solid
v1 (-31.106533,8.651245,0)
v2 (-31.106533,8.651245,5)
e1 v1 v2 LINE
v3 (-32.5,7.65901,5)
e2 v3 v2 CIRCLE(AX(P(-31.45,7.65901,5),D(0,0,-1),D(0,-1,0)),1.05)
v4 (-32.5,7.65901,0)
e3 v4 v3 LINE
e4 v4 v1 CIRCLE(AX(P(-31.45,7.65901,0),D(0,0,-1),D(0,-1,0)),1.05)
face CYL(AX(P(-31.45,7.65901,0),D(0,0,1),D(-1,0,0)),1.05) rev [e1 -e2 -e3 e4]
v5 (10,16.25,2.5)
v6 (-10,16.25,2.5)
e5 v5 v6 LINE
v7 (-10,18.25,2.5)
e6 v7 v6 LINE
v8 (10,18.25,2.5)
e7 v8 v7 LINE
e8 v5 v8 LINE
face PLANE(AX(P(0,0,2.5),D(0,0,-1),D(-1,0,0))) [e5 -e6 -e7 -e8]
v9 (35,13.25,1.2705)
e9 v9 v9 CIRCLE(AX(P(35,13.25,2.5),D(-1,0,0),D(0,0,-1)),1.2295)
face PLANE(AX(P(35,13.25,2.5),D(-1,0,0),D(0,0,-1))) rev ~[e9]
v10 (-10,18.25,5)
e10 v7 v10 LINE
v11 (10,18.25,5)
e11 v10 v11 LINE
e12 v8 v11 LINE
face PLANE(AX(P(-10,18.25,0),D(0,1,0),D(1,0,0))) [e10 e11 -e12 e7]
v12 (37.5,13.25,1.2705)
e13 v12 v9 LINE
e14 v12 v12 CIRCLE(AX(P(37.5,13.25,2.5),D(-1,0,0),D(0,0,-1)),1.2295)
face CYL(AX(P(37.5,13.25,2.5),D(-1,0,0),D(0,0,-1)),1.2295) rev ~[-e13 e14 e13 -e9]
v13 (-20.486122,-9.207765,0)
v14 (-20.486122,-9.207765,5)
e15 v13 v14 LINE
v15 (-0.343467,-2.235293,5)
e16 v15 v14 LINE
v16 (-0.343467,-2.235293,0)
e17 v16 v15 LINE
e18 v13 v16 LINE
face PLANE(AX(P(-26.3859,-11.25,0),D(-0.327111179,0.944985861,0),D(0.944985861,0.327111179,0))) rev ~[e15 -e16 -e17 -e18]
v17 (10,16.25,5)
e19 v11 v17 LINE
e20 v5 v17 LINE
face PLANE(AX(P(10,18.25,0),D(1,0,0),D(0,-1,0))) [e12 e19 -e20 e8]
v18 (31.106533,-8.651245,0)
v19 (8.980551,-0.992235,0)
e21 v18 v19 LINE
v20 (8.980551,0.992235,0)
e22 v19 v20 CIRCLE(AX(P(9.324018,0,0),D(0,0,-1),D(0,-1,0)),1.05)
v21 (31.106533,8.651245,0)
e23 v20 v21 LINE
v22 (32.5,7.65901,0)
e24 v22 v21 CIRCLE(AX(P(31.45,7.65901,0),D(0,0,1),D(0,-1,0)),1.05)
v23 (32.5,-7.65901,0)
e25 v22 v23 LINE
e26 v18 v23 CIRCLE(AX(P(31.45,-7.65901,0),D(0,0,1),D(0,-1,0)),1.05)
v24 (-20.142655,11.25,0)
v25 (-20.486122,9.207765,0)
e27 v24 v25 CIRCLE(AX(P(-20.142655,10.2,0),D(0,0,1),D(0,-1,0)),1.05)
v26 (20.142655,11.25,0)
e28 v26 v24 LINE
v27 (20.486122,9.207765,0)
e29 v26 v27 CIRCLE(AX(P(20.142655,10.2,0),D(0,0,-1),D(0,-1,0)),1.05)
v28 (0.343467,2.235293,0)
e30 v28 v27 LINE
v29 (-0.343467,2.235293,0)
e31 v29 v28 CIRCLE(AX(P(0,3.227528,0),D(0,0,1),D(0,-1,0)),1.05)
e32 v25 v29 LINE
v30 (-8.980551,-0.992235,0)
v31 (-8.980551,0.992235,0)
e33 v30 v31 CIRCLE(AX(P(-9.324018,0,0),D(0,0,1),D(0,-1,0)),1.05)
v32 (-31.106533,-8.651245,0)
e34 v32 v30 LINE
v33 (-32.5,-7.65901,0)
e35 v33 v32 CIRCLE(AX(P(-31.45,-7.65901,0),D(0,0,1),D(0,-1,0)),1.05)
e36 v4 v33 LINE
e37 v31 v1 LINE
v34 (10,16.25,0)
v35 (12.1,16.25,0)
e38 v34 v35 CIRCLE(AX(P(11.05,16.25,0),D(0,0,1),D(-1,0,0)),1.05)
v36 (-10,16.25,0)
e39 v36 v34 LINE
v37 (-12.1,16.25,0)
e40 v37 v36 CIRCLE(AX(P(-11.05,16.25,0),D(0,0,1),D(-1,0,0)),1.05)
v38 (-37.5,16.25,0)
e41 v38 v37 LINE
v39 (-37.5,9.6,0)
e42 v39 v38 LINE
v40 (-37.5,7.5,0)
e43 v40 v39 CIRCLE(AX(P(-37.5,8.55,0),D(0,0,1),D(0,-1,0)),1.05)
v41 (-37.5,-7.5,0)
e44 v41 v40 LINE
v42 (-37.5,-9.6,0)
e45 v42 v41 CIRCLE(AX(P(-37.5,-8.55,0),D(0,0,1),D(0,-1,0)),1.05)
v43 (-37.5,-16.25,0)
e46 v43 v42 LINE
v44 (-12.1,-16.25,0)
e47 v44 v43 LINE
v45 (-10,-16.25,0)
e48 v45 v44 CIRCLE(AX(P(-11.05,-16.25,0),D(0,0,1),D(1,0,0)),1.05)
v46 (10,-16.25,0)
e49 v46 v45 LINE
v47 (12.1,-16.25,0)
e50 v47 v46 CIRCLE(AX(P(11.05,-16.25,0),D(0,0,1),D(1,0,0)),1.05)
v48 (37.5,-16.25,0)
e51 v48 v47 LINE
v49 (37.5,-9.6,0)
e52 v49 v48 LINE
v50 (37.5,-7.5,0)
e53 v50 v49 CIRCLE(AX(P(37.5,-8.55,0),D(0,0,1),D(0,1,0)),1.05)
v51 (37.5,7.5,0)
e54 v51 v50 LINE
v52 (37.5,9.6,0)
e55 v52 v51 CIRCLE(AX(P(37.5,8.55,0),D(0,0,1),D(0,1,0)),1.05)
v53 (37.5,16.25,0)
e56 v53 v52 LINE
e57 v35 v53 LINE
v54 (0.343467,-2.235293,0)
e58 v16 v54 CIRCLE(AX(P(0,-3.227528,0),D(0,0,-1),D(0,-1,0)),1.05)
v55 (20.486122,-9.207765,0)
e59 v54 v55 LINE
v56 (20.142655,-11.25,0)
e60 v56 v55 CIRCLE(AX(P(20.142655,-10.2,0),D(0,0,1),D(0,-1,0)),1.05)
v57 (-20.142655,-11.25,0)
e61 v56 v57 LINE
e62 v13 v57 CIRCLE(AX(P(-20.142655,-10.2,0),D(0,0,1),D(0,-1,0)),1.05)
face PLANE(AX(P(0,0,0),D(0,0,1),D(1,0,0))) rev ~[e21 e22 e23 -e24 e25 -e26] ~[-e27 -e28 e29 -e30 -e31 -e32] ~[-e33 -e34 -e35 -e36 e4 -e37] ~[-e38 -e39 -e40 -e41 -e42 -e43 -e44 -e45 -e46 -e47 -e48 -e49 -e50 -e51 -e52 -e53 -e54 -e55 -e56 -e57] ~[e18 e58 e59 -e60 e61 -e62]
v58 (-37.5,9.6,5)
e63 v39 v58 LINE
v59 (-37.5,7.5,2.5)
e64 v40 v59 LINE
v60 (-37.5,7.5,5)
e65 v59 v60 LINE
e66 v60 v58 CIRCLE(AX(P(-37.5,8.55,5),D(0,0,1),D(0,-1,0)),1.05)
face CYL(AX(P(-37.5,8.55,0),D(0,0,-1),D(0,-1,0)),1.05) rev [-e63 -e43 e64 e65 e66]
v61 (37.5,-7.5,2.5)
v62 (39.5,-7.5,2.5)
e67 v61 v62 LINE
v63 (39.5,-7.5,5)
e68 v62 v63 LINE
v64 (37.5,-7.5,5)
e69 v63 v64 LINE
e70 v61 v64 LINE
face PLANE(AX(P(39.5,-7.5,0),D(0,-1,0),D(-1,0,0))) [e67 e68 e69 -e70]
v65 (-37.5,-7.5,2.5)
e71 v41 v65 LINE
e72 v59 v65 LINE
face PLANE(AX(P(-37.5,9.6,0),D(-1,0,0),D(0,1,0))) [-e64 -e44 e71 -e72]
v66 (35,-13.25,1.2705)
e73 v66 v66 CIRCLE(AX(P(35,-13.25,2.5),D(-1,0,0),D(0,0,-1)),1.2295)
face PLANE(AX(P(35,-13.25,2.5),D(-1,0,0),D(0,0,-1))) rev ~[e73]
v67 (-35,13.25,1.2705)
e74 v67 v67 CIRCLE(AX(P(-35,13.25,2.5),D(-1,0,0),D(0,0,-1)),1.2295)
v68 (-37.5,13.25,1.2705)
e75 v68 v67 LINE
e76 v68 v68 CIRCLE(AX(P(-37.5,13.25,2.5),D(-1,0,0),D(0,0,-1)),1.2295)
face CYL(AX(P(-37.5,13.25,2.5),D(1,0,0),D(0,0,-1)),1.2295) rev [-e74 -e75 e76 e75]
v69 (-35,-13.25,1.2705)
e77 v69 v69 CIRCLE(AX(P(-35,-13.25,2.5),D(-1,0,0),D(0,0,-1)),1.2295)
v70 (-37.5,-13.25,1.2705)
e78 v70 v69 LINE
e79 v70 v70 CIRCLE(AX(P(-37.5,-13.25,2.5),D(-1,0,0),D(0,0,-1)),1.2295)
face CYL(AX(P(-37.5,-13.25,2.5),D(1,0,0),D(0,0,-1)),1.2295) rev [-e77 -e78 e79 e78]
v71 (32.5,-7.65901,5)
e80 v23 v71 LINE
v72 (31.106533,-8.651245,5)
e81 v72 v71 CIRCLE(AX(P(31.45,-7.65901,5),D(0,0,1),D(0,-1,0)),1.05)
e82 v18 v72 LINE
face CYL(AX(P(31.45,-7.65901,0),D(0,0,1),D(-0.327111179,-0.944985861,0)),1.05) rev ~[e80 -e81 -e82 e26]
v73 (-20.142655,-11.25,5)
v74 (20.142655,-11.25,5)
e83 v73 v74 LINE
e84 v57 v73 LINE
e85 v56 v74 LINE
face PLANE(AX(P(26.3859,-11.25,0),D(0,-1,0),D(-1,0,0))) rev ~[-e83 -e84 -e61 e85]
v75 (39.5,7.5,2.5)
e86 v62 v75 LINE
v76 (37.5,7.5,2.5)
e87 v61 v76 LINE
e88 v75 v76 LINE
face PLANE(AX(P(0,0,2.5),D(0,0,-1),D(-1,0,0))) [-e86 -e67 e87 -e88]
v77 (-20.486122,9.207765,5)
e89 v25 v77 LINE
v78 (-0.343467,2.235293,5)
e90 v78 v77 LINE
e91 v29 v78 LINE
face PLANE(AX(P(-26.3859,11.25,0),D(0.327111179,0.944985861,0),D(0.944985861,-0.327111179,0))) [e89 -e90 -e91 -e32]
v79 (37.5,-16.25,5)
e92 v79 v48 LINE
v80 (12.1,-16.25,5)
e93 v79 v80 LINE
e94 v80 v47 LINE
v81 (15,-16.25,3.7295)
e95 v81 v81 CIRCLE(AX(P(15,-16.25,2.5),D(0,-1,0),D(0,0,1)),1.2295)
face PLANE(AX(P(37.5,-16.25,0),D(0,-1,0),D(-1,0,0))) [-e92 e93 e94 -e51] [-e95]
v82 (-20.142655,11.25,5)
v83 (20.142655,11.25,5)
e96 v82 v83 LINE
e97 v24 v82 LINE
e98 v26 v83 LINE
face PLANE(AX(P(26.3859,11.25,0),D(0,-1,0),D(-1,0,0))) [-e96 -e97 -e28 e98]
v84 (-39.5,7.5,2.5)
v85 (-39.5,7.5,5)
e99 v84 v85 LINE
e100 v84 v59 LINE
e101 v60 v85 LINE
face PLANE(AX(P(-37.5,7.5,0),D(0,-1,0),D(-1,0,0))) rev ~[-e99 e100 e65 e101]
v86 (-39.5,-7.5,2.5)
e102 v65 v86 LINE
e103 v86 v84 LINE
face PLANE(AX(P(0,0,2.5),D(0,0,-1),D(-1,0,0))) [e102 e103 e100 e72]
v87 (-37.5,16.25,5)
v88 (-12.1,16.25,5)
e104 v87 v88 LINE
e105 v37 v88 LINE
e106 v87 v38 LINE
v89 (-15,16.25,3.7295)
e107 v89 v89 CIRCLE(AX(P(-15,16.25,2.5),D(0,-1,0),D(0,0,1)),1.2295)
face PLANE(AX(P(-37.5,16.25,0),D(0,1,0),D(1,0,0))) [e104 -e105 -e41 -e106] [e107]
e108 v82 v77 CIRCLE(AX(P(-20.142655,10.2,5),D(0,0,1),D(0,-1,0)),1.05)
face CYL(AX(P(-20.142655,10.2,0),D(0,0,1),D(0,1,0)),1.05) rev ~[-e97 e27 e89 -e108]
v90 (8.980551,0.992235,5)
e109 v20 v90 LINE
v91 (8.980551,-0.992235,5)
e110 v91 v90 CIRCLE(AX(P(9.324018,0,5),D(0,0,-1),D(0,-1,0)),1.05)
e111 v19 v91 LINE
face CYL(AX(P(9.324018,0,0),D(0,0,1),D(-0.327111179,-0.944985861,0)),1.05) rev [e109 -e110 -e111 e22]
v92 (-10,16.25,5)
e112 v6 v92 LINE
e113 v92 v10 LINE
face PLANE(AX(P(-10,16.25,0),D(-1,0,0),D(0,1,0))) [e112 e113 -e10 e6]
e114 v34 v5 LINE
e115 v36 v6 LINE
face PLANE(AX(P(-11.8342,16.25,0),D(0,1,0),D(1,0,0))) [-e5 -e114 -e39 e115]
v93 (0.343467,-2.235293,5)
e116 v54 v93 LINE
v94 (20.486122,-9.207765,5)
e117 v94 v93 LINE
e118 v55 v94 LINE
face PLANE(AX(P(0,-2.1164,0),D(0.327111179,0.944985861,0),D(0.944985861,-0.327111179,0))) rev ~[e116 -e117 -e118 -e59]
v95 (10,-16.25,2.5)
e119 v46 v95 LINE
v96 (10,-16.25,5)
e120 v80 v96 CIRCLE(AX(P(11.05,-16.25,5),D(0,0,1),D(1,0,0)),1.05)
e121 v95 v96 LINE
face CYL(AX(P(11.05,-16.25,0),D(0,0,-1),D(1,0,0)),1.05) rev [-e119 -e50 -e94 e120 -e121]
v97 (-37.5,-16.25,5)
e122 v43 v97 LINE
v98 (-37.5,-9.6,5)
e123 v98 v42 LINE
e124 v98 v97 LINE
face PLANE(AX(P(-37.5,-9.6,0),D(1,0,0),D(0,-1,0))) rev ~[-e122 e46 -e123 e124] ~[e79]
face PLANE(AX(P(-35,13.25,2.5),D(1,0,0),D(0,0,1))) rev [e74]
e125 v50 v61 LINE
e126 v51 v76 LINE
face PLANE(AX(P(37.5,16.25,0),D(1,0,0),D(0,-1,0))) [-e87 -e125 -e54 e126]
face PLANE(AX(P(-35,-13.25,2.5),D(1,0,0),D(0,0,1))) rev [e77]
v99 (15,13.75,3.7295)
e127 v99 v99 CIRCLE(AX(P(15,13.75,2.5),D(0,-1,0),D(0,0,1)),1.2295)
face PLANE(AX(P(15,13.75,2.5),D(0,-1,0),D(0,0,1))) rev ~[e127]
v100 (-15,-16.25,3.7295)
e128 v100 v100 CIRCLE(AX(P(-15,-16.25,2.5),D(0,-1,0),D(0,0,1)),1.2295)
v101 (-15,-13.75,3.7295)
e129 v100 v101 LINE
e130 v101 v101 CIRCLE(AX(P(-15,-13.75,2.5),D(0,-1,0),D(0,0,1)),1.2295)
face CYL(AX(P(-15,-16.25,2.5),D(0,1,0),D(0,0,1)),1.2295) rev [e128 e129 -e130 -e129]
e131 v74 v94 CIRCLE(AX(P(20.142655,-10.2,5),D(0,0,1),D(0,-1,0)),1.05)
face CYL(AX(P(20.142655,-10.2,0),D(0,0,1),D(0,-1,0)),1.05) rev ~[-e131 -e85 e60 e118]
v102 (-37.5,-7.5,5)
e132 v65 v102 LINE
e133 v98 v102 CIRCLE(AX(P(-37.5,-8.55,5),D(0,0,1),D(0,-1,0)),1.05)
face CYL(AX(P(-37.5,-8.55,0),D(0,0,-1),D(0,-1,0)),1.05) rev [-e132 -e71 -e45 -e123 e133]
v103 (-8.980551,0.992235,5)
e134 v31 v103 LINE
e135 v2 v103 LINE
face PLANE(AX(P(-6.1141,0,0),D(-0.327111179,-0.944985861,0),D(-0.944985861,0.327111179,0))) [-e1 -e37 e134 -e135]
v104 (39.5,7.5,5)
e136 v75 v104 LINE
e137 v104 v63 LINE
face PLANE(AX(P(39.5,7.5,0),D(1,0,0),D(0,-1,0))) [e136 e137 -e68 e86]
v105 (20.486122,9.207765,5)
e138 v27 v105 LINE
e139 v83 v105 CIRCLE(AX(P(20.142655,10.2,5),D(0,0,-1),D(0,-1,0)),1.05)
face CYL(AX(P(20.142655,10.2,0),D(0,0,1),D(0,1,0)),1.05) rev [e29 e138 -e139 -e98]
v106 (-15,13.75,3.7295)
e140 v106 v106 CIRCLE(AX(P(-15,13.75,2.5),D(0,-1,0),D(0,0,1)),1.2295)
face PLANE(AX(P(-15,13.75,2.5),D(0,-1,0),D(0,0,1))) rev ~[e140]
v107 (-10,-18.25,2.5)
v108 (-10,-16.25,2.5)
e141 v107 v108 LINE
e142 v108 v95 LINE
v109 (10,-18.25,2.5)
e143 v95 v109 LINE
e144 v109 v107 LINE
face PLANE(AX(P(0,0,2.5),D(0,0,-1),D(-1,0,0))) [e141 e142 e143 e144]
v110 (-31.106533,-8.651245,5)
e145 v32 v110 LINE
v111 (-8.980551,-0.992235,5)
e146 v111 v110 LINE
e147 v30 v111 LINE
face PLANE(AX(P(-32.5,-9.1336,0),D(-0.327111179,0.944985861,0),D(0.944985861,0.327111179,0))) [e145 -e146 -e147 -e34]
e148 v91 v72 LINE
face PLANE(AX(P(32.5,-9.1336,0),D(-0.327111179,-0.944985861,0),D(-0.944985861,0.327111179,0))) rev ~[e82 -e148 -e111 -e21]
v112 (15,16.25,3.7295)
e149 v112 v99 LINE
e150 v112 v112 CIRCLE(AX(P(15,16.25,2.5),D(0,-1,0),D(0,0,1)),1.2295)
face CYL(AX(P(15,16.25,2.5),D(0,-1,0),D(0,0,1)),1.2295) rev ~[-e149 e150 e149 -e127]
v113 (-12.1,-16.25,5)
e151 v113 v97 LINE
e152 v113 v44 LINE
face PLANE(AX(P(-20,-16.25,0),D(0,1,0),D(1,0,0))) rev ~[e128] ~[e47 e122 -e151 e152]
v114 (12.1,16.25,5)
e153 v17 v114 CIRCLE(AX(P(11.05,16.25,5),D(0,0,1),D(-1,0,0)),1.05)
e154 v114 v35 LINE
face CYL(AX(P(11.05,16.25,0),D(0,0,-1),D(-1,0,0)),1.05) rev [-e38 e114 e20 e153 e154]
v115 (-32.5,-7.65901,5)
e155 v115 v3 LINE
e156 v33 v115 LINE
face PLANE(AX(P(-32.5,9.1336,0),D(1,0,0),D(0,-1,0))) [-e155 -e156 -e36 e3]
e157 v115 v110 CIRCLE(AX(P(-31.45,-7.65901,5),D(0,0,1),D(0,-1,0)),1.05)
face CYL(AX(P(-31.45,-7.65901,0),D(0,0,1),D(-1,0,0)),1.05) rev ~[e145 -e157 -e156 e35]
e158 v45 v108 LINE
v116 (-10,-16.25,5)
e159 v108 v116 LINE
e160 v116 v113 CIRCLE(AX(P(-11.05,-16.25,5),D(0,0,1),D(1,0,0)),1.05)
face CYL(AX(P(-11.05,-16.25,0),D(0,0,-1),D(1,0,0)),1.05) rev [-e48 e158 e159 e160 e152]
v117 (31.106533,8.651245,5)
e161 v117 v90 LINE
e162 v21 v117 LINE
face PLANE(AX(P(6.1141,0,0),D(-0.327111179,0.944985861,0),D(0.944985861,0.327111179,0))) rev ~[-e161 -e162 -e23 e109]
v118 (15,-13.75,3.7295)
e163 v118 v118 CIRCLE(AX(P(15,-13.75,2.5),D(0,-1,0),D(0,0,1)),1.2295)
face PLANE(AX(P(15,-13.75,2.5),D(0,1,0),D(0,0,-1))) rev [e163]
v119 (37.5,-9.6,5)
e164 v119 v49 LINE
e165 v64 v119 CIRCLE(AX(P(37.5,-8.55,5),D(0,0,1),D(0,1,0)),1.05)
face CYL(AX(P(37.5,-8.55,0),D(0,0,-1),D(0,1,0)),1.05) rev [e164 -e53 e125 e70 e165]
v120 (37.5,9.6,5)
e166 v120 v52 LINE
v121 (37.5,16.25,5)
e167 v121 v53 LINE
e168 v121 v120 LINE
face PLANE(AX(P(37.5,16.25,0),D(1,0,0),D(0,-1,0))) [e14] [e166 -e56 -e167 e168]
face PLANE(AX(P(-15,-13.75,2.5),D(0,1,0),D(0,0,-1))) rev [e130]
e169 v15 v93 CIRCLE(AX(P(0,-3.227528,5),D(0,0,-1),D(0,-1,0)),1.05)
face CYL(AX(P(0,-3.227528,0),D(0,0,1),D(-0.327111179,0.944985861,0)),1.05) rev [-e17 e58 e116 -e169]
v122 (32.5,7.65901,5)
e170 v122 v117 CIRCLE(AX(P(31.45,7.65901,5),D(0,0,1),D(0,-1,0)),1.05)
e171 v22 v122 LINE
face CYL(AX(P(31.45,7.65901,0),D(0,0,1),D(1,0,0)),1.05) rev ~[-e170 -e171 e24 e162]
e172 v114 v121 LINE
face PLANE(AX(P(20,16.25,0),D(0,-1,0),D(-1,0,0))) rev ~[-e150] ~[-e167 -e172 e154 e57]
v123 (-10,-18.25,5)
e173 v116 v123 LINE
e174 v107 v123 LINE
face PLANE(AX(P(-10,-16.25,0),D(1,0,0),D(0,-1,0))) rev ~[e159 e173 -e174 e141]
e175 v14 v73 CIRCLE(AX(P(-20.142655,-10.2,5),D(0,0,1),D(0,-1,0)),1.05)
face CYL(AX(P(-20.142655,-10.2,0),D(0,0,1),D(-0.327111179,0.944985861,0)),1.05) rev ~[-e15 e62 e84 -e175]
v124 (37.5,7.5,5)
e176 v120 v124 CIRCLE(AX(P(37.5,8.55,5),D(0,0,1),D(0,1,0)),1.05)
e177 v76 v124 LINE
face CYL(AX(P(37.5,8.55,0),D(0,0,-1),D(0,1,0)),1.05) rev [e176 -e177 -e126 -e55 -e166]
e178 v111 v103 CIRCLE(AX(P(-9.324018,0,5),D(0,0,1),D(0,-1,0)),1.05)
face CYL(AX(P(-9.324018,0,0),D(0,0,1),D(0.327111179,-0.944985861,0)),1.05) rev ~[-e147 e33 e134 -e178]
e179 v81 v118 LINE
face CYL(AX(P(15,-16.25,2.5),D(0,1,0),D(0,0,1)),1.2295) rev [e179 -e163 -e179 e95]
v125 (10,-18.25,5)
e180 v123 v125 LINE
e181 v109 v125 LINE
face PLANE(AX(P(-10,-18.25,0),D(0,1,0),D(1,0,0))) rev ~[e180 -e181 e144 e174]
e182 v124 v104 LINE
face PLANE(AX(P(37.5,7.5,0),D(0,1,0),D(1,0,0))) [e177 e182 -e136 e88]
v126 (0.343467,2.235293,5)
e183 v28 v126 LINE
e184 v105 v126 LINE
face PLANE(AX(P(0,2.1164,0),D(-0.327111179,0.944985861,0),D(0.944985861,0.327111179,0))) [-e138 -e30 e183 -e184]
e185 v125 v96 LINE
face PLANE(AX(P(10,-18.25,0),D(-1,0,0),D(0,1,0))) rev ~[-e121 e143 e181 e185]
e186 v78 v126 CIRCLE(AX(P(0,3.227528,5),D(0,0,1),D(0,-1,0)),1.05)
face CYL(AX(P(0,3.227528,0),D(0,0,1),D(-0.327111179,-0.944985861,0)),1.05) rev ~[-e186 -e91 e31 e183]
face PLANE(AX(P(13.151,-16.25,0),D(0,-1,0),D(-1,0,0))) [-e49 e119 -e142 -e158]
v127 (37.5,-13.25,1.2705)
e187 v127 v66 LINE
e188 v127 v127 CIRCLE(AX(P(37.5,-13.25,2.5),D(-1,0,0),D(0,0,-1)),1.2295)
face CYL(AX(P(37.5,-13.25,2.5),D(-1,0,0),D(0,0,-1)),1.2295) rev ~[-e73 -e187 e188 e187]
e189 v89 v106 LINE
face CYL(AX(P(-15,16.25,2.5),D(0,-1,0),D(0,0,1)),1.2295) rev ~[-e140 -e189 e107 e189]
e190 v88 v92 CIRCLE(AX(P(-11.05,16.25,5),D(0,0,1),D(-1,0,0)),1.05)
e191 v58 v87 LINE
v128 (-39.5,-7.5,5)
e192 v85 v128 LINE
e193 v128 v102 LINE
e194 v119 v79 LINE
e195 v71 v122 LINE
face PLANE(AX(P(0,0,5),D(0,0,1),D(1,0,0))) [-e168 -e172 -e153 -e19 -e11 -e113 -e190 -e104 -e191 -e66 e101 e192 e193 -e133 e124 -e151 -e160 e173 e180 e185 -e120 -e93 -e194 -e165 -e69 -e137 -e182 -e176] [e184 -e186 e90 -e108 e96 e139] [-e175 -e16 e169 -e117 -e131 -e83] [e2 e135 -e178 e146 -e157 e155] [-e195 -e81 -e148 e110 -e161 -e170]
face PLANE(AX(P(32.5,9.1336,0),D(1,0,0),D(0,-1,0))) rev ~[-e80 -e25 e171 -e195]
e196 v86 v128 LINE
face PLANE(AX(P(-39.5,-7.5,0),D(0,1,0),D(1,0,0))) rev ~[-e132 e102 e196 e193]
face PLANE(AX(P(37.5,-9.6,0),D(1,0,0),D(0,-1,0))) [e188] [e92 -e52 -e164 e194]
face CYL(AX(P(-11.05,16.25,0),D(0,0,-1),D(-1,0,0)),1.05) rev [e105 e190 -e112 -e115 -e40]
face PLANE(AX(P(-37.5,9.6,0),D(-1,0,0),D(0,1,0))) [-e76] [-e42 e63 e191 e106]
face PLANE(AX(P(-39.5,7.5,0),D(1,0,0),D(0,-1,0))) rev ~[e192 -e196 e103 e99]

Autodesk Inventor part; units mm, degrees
ref_plane "YZ Plane" through (0, 0, 0) normal (1, 0, 0) x (0, 1, 0)
ref_plane "XZ Plane" through (0, 0, 0) normal (0, 1, 0) x (-1, 0, 0)
ref_plane "XY Plane" through (0, 0, 0) normal (0, 0, 1) x (1, 0, 0)
sketch "スケッチ1" plane through (0, 0, 0) normal (0, 0, 1) x (1, 0, 0)
  line L0 (-37.5, 9.6) -> (-37.5, 16.25)
  line L1 (-37.5, 16.25) -> (-20, 16.25)
  line L2 (20, 16.25) -> (37.5, 16.25)
  line L3 (37.5, 16.25) -> (37.5, 9.6)
  line L4 (0, 0) -> (0, 16.25) construction
  line L5 (0, 0) -> (39.5, 0) construction
  line L6 (37.5, 7.5) -> (39.5, 7.5)
  line L7 (39.5, 7.5) -> (39.5, -7.5)
  line L8 (39.5, -7.5) -> (37.5, -7.5)
  line L9 (-20, -16.25) -> (20, -16.25) construction
  line L10 (20, -16.25) -> (20, 16.25) construction
  line L11 (20, 16.25) -> (-20, 16.25) construction
  line L12 (-20, 16.25) -> (-20, -16.25) construction
  line L13 (-20, -16.25) -> (20, 16.25) construction
  line L14 (20, -16.25) -> (-20, 16.25) construction
  line L15 (-37.5, -16.25) -> (37.5, -16.25) construction
  line L16 (37.5, -16.25) -> (37.5, 16.25) construction
  line L17 (37.5, 16.25) -> (-37.5, 16.25) construction
  line L18 (-37.5, 16.25) -> (-37.5, -16.25) construction
  line L19 (-37.5, -16.25) -> (37.5, 16.25) construction
  line L20 (37.5, -16.25) -> (-37.5, 16.25) construction
  arc A0 (37.5, 9.6) -> (37.5, 7.5) centre (37.5, 8.55) ccw
  arc A1 (37.5, -7.5) -> (37.5, -9.6) centre (37.5, -8.55) ccw
  line L21 (37.5, -9.6) -> (37.5, -16.25)
  line L22 (37.5, -16.25) -> (20, -16.25)
  line L23 (20, -16.25) -> (12.1, -16.25)
  line L24 (-20, 16.25) -> (-12.1, 16.25)
  line L25 (-10, 16.25) -> (-10, 18.25)
  line L26 (-10, 18.25) -> (10, 18.25)
  line L27 (10, 18.25) -> (10, 16.25)
  line L28 (20, 16.25) -> (12.1, 16.25)
  arc A2 (-12.1, 16.25) -> (-10, 16.25) centre (-11.05, 16.25) ccw
  arc A3 (10, 16.25) -> (12.1, 16.25) centre (11.05, 16.25) ccw
  line L29 (-37.5, 7.5) -> (-39.5, 7.5)
  line L30 (-39.5, 7.5) -> (-39.5, -7.5)
  line L31 (-39.5, -7.5) -> (-37.5, -7.5)
  arc A4 (-37.5, 7.5) -> (-37.5, 9.6) centre (-37.5, 8.55) ccw
  arc A5 (-37.5, -9.6) -> (-37.5, -7.5) centre (-37.5, -8.55) ccw
  line L32 (-37.5, -9.6) -> (-37.5, -16.25)
  line L33 (-37.5, -16.25) -> (-20, -16.25)
  line L34 (-20, -16.25) -> (-12.1, -16.25)
  line L35 (-10, -16.25) -> (-10, -18.25)
  line L36 (-10, -18.25) -> (10, -18.25)
  line L37 (10, -18.25) -> (10, -16.25)
  arc A6 (-10, -16.25) -> (-12.1, -16.25) centre (-11.05, -16.25) ccw
  arc A7 (12.1, -16.25) -> (10, -16.25) centre (11.05, -16.25) ccw
  line L38 (-16.55, 19.1799) -> (-13.45, 19.1799) construction
  line L39 (-13.45, 19.1799) -> (-13.45, 12.4242) construction
  line L40 (-13.45, 12.4242) -> (-16.55, 12.4242) construction
  line L41 (-16.55, 12.4242) -> (-16.55, 19.1799) construction
  line L42 (-15, 19.1799) -> (-15, 12.4242) construction
  point P0 (0, 18.25)
  point P1 (0, 0)
  dimension "d0" = 1.05
  dimension "d1" = 32.5
  dimension "d2" = 75
  dimension "d3" = 40
  dimension "d23" = 2
  dimension "d30" = 2
  dimension "d34" = 8.75
  dimension "d53" = 20
  dimension "d54" = 3.1
  dimension "d55" = 5
  dimension "d85" = 32.5
extrude "押し出し1" add sketch "スケッチ1" along normal blind 5
sketch "スケッチ2" plane through (0, 0, 0) normal (0, 0, -1) x (-1, 0, 0)
  line L0 (37.5, 9.6) -> (37.5, 16.25) projected
  line L1 (-37.5, 16.25) -> (-37.5, 9.6) projected
  line L2 (-45.6427, 17.3125) -> (-37.5, 17.3125)
  line L3 (-37.5, 17.3125) -> (-37.5, -16.751)
  line L4 (-37.5, -16.751) -> (-45.6427, -16.751)
  line L5 (-45.6427, -16.751) -> (-45.6427, 17.3125)
  line L6 (37.5, 21.1805) -> (43.358, 21.1805)
  line L7 (43.358, 21.1805) -> (43.358, -13.6193)
  line L8 (43.358, -13.6193) -> (37.5, -13.6193)
  line L9 (37.5, -13.6193) -> (37.5, 21.1805)
  line L10 (-20, -16.25) -> (-12.1, -16.25)
  line L11 (-17.1371, 25.1848) -> (11.8342, 25.1848)
  line L12 (11.8342, 25.1848) -> (11.8342, 16.25)
  line L13 (11.8342, 16.25) -> (-17.1371, 16.25)
  line L14 (-17.1371, 16.25) -> (-17.1371, 25.1848)
  line L15 (-13.151, -21.5857) -> (17.7795, -21.5857)
  line L16 (17.7795, -21.5857) -> (17.7795, -16.25)
  line L17 (17.7795, -16.25) -> (-13.151, -16.25)
  line L18 (-13.151, -16.25) -> (-13.151, -21.5857)
  line L19 (-12.1, 16.25) -> (-37.5, 16.25)
  line L20 (-37.5, -16.25) -> (-12.1, -16.25)
  point P0 (0, 0)
extrude "押し出し2" cut sketch "スケッチ2" against normal blind 2.5
sketch "スケッチ3" plane through (12.1, 16.25, 0) normal (0, 1, 0) x (1, 0, 0)
  line L0 (-2.1, 0) -> (-2.1, -5) projected
  line L1 (-2.1, -5) -> (-22.1, -5) construction
  line L2 (-12.1, -5) -> (-12.1, 7.4607) construction
  line L3 (25.4, 0) -> (25.4, -5) projected
  point P0 (-12.1, 0)
  point P1 (2.9, -2.5)
  point P2 (-27.1, -2.5)
  point P3 (25.4, -2.5)
  dimension "d60" = 5
hole "穴1" at (15, 16.25, 2.5) at (-15, 16.25, 2.5) direction (0, -1, 0) diameter 2.459 depth 2.5 thread size "M3x0.5" class "6H" standard "ISO Metric profile"
mirror "ミラー1" about plane through (0, 0, 0) normal (0, 1, 0) of "穴1"
sketch "スケッチ4" plane through (37.5, -16.25, 5) normal (1, 0, 0) x (0, 0, -1)
  line L0 (5, 16.25) -> (0, 16.25) construction
  line L1 (0, 23.75) -> (0, 8.75) construction
  line L2 (5, 6.65) -> (0, 6.65) projected
  line L3 (5, 0) -> (0, 0) projected
  point P0 (2.5, 3)
  point P1 (2.5, 29.5)
  point P2 (2.5, 6.65)
  dimension "d86" = 3
  dimension "d87" = 26.5
hole "穴2" at (37.5, -13.25, 2.5) at (37.5, 13.25, 2.5) direction (-1, 0, 0) diameter 2.459 depth 2.5 thread size "M3x0.5" class "6H" standard "ISO Metric profile"
mirror "ミラー2" about plane through (0, 0, 0) normal (1, 0, 0) of "穴2"
sketch "スケッチ5" plane through (0, 0, 0) normal (0, 0, -1) x (-1, 0, 0)
  line L0 (10, 16.25) -> (-10, 16.25) projected
  line L1 (-37.5, 7.5) -> (-37.5, 9.6) projected
  line L2 (-32.5, -11.25) -> (32.5, -11.25) construction
  line L3 (32.5, -11.25) -> (32.5, 11.25) construction
  line L4 (32.5, 11.25) -> (-32.5, 11.25) construction
  line L5 (-32.5, 11.25) -> (-32.5, -11.25) construction
  line L6 (-32.5, -11.25) -> (32.5, 11.25) construction
  line L7 (32.5, -11.25) -> (-32.5, 11.25) construction
  line L8 (-32.5, 9.1336) -> (-32.5, -9.1336)
  line L9 (-32.5, -9.1336) -> (-6.1141, 0)
  line L10 (-6.1141, 0) -> (-32.5, 9.1336)
  line L11 (-26.3859, 11.25) -> (26.3859, 11.25)
  line L12 (26.3859, 11.25) -> (0, 2.1164)
  line L13 (0, 2.1164) -> (-26.3859, 11.25)
  line L14 (-26.3859, -11.25) -> (26.3859, -11.25)
  line L15 (26.3859, -11.25) -> (0, -2.1164)
  line L16 (0, -2.1164) -> (-26.3859, -11.25)
  line L17 (32.5, 9.1336) -> (32.5, -9.1336)
  line L18 (32.5, -9.1336) -> (6.1141, 0)
  line L19 (6.1141, 0) -> (32.5, 9.1336)
  point P0 (-12.1, 16.25)
  point P1 (-20, 16.25)
  point P2 (-37.5, 16.25)
  point P3 (0, 0)
  dimension "d76" = 5
  dimension "d77" = 5
  dimension "d78" = 4
  dimension "d79" = 4
  dimension "d80" = 4
  dimension "d81" = 4
extrude "押し出し3" cut sketch "スケッチ5" against normal blind 10
fillet "フィレット1" radius 1.05 12 edges at (32.5, 9.1336, 2.5) (32.5, -9.1336, 2.5) (26.3859, 11.25, 2.5) (6.1141, 0, 2.5) (0, -2.1164, 2.5) (0, 2.1164, 2.5) (-32.5, -9.1336, 2.5) (26.3859, -11.25, 2.5) (-32.5, 9.1336, 2.5) (-26.3859, 11.25, 2.5) (-26.3859, -11.25, 2.5) (-6.1141, 0, 2.5)
equation "\"d85\" = d1"
equation "\"d60\" = d55"
equation "\"d77\" = d76"
equation "\"d79\" = d78"
equation "\"d80\" = d79"
equation "\"d81\" = d78"
equation "\"d48\" = 26.5"
equation "\"d52\" = 5"
properties part number "Trunk_horizontal_frame_04" material "アセタール樹脂、黒"
